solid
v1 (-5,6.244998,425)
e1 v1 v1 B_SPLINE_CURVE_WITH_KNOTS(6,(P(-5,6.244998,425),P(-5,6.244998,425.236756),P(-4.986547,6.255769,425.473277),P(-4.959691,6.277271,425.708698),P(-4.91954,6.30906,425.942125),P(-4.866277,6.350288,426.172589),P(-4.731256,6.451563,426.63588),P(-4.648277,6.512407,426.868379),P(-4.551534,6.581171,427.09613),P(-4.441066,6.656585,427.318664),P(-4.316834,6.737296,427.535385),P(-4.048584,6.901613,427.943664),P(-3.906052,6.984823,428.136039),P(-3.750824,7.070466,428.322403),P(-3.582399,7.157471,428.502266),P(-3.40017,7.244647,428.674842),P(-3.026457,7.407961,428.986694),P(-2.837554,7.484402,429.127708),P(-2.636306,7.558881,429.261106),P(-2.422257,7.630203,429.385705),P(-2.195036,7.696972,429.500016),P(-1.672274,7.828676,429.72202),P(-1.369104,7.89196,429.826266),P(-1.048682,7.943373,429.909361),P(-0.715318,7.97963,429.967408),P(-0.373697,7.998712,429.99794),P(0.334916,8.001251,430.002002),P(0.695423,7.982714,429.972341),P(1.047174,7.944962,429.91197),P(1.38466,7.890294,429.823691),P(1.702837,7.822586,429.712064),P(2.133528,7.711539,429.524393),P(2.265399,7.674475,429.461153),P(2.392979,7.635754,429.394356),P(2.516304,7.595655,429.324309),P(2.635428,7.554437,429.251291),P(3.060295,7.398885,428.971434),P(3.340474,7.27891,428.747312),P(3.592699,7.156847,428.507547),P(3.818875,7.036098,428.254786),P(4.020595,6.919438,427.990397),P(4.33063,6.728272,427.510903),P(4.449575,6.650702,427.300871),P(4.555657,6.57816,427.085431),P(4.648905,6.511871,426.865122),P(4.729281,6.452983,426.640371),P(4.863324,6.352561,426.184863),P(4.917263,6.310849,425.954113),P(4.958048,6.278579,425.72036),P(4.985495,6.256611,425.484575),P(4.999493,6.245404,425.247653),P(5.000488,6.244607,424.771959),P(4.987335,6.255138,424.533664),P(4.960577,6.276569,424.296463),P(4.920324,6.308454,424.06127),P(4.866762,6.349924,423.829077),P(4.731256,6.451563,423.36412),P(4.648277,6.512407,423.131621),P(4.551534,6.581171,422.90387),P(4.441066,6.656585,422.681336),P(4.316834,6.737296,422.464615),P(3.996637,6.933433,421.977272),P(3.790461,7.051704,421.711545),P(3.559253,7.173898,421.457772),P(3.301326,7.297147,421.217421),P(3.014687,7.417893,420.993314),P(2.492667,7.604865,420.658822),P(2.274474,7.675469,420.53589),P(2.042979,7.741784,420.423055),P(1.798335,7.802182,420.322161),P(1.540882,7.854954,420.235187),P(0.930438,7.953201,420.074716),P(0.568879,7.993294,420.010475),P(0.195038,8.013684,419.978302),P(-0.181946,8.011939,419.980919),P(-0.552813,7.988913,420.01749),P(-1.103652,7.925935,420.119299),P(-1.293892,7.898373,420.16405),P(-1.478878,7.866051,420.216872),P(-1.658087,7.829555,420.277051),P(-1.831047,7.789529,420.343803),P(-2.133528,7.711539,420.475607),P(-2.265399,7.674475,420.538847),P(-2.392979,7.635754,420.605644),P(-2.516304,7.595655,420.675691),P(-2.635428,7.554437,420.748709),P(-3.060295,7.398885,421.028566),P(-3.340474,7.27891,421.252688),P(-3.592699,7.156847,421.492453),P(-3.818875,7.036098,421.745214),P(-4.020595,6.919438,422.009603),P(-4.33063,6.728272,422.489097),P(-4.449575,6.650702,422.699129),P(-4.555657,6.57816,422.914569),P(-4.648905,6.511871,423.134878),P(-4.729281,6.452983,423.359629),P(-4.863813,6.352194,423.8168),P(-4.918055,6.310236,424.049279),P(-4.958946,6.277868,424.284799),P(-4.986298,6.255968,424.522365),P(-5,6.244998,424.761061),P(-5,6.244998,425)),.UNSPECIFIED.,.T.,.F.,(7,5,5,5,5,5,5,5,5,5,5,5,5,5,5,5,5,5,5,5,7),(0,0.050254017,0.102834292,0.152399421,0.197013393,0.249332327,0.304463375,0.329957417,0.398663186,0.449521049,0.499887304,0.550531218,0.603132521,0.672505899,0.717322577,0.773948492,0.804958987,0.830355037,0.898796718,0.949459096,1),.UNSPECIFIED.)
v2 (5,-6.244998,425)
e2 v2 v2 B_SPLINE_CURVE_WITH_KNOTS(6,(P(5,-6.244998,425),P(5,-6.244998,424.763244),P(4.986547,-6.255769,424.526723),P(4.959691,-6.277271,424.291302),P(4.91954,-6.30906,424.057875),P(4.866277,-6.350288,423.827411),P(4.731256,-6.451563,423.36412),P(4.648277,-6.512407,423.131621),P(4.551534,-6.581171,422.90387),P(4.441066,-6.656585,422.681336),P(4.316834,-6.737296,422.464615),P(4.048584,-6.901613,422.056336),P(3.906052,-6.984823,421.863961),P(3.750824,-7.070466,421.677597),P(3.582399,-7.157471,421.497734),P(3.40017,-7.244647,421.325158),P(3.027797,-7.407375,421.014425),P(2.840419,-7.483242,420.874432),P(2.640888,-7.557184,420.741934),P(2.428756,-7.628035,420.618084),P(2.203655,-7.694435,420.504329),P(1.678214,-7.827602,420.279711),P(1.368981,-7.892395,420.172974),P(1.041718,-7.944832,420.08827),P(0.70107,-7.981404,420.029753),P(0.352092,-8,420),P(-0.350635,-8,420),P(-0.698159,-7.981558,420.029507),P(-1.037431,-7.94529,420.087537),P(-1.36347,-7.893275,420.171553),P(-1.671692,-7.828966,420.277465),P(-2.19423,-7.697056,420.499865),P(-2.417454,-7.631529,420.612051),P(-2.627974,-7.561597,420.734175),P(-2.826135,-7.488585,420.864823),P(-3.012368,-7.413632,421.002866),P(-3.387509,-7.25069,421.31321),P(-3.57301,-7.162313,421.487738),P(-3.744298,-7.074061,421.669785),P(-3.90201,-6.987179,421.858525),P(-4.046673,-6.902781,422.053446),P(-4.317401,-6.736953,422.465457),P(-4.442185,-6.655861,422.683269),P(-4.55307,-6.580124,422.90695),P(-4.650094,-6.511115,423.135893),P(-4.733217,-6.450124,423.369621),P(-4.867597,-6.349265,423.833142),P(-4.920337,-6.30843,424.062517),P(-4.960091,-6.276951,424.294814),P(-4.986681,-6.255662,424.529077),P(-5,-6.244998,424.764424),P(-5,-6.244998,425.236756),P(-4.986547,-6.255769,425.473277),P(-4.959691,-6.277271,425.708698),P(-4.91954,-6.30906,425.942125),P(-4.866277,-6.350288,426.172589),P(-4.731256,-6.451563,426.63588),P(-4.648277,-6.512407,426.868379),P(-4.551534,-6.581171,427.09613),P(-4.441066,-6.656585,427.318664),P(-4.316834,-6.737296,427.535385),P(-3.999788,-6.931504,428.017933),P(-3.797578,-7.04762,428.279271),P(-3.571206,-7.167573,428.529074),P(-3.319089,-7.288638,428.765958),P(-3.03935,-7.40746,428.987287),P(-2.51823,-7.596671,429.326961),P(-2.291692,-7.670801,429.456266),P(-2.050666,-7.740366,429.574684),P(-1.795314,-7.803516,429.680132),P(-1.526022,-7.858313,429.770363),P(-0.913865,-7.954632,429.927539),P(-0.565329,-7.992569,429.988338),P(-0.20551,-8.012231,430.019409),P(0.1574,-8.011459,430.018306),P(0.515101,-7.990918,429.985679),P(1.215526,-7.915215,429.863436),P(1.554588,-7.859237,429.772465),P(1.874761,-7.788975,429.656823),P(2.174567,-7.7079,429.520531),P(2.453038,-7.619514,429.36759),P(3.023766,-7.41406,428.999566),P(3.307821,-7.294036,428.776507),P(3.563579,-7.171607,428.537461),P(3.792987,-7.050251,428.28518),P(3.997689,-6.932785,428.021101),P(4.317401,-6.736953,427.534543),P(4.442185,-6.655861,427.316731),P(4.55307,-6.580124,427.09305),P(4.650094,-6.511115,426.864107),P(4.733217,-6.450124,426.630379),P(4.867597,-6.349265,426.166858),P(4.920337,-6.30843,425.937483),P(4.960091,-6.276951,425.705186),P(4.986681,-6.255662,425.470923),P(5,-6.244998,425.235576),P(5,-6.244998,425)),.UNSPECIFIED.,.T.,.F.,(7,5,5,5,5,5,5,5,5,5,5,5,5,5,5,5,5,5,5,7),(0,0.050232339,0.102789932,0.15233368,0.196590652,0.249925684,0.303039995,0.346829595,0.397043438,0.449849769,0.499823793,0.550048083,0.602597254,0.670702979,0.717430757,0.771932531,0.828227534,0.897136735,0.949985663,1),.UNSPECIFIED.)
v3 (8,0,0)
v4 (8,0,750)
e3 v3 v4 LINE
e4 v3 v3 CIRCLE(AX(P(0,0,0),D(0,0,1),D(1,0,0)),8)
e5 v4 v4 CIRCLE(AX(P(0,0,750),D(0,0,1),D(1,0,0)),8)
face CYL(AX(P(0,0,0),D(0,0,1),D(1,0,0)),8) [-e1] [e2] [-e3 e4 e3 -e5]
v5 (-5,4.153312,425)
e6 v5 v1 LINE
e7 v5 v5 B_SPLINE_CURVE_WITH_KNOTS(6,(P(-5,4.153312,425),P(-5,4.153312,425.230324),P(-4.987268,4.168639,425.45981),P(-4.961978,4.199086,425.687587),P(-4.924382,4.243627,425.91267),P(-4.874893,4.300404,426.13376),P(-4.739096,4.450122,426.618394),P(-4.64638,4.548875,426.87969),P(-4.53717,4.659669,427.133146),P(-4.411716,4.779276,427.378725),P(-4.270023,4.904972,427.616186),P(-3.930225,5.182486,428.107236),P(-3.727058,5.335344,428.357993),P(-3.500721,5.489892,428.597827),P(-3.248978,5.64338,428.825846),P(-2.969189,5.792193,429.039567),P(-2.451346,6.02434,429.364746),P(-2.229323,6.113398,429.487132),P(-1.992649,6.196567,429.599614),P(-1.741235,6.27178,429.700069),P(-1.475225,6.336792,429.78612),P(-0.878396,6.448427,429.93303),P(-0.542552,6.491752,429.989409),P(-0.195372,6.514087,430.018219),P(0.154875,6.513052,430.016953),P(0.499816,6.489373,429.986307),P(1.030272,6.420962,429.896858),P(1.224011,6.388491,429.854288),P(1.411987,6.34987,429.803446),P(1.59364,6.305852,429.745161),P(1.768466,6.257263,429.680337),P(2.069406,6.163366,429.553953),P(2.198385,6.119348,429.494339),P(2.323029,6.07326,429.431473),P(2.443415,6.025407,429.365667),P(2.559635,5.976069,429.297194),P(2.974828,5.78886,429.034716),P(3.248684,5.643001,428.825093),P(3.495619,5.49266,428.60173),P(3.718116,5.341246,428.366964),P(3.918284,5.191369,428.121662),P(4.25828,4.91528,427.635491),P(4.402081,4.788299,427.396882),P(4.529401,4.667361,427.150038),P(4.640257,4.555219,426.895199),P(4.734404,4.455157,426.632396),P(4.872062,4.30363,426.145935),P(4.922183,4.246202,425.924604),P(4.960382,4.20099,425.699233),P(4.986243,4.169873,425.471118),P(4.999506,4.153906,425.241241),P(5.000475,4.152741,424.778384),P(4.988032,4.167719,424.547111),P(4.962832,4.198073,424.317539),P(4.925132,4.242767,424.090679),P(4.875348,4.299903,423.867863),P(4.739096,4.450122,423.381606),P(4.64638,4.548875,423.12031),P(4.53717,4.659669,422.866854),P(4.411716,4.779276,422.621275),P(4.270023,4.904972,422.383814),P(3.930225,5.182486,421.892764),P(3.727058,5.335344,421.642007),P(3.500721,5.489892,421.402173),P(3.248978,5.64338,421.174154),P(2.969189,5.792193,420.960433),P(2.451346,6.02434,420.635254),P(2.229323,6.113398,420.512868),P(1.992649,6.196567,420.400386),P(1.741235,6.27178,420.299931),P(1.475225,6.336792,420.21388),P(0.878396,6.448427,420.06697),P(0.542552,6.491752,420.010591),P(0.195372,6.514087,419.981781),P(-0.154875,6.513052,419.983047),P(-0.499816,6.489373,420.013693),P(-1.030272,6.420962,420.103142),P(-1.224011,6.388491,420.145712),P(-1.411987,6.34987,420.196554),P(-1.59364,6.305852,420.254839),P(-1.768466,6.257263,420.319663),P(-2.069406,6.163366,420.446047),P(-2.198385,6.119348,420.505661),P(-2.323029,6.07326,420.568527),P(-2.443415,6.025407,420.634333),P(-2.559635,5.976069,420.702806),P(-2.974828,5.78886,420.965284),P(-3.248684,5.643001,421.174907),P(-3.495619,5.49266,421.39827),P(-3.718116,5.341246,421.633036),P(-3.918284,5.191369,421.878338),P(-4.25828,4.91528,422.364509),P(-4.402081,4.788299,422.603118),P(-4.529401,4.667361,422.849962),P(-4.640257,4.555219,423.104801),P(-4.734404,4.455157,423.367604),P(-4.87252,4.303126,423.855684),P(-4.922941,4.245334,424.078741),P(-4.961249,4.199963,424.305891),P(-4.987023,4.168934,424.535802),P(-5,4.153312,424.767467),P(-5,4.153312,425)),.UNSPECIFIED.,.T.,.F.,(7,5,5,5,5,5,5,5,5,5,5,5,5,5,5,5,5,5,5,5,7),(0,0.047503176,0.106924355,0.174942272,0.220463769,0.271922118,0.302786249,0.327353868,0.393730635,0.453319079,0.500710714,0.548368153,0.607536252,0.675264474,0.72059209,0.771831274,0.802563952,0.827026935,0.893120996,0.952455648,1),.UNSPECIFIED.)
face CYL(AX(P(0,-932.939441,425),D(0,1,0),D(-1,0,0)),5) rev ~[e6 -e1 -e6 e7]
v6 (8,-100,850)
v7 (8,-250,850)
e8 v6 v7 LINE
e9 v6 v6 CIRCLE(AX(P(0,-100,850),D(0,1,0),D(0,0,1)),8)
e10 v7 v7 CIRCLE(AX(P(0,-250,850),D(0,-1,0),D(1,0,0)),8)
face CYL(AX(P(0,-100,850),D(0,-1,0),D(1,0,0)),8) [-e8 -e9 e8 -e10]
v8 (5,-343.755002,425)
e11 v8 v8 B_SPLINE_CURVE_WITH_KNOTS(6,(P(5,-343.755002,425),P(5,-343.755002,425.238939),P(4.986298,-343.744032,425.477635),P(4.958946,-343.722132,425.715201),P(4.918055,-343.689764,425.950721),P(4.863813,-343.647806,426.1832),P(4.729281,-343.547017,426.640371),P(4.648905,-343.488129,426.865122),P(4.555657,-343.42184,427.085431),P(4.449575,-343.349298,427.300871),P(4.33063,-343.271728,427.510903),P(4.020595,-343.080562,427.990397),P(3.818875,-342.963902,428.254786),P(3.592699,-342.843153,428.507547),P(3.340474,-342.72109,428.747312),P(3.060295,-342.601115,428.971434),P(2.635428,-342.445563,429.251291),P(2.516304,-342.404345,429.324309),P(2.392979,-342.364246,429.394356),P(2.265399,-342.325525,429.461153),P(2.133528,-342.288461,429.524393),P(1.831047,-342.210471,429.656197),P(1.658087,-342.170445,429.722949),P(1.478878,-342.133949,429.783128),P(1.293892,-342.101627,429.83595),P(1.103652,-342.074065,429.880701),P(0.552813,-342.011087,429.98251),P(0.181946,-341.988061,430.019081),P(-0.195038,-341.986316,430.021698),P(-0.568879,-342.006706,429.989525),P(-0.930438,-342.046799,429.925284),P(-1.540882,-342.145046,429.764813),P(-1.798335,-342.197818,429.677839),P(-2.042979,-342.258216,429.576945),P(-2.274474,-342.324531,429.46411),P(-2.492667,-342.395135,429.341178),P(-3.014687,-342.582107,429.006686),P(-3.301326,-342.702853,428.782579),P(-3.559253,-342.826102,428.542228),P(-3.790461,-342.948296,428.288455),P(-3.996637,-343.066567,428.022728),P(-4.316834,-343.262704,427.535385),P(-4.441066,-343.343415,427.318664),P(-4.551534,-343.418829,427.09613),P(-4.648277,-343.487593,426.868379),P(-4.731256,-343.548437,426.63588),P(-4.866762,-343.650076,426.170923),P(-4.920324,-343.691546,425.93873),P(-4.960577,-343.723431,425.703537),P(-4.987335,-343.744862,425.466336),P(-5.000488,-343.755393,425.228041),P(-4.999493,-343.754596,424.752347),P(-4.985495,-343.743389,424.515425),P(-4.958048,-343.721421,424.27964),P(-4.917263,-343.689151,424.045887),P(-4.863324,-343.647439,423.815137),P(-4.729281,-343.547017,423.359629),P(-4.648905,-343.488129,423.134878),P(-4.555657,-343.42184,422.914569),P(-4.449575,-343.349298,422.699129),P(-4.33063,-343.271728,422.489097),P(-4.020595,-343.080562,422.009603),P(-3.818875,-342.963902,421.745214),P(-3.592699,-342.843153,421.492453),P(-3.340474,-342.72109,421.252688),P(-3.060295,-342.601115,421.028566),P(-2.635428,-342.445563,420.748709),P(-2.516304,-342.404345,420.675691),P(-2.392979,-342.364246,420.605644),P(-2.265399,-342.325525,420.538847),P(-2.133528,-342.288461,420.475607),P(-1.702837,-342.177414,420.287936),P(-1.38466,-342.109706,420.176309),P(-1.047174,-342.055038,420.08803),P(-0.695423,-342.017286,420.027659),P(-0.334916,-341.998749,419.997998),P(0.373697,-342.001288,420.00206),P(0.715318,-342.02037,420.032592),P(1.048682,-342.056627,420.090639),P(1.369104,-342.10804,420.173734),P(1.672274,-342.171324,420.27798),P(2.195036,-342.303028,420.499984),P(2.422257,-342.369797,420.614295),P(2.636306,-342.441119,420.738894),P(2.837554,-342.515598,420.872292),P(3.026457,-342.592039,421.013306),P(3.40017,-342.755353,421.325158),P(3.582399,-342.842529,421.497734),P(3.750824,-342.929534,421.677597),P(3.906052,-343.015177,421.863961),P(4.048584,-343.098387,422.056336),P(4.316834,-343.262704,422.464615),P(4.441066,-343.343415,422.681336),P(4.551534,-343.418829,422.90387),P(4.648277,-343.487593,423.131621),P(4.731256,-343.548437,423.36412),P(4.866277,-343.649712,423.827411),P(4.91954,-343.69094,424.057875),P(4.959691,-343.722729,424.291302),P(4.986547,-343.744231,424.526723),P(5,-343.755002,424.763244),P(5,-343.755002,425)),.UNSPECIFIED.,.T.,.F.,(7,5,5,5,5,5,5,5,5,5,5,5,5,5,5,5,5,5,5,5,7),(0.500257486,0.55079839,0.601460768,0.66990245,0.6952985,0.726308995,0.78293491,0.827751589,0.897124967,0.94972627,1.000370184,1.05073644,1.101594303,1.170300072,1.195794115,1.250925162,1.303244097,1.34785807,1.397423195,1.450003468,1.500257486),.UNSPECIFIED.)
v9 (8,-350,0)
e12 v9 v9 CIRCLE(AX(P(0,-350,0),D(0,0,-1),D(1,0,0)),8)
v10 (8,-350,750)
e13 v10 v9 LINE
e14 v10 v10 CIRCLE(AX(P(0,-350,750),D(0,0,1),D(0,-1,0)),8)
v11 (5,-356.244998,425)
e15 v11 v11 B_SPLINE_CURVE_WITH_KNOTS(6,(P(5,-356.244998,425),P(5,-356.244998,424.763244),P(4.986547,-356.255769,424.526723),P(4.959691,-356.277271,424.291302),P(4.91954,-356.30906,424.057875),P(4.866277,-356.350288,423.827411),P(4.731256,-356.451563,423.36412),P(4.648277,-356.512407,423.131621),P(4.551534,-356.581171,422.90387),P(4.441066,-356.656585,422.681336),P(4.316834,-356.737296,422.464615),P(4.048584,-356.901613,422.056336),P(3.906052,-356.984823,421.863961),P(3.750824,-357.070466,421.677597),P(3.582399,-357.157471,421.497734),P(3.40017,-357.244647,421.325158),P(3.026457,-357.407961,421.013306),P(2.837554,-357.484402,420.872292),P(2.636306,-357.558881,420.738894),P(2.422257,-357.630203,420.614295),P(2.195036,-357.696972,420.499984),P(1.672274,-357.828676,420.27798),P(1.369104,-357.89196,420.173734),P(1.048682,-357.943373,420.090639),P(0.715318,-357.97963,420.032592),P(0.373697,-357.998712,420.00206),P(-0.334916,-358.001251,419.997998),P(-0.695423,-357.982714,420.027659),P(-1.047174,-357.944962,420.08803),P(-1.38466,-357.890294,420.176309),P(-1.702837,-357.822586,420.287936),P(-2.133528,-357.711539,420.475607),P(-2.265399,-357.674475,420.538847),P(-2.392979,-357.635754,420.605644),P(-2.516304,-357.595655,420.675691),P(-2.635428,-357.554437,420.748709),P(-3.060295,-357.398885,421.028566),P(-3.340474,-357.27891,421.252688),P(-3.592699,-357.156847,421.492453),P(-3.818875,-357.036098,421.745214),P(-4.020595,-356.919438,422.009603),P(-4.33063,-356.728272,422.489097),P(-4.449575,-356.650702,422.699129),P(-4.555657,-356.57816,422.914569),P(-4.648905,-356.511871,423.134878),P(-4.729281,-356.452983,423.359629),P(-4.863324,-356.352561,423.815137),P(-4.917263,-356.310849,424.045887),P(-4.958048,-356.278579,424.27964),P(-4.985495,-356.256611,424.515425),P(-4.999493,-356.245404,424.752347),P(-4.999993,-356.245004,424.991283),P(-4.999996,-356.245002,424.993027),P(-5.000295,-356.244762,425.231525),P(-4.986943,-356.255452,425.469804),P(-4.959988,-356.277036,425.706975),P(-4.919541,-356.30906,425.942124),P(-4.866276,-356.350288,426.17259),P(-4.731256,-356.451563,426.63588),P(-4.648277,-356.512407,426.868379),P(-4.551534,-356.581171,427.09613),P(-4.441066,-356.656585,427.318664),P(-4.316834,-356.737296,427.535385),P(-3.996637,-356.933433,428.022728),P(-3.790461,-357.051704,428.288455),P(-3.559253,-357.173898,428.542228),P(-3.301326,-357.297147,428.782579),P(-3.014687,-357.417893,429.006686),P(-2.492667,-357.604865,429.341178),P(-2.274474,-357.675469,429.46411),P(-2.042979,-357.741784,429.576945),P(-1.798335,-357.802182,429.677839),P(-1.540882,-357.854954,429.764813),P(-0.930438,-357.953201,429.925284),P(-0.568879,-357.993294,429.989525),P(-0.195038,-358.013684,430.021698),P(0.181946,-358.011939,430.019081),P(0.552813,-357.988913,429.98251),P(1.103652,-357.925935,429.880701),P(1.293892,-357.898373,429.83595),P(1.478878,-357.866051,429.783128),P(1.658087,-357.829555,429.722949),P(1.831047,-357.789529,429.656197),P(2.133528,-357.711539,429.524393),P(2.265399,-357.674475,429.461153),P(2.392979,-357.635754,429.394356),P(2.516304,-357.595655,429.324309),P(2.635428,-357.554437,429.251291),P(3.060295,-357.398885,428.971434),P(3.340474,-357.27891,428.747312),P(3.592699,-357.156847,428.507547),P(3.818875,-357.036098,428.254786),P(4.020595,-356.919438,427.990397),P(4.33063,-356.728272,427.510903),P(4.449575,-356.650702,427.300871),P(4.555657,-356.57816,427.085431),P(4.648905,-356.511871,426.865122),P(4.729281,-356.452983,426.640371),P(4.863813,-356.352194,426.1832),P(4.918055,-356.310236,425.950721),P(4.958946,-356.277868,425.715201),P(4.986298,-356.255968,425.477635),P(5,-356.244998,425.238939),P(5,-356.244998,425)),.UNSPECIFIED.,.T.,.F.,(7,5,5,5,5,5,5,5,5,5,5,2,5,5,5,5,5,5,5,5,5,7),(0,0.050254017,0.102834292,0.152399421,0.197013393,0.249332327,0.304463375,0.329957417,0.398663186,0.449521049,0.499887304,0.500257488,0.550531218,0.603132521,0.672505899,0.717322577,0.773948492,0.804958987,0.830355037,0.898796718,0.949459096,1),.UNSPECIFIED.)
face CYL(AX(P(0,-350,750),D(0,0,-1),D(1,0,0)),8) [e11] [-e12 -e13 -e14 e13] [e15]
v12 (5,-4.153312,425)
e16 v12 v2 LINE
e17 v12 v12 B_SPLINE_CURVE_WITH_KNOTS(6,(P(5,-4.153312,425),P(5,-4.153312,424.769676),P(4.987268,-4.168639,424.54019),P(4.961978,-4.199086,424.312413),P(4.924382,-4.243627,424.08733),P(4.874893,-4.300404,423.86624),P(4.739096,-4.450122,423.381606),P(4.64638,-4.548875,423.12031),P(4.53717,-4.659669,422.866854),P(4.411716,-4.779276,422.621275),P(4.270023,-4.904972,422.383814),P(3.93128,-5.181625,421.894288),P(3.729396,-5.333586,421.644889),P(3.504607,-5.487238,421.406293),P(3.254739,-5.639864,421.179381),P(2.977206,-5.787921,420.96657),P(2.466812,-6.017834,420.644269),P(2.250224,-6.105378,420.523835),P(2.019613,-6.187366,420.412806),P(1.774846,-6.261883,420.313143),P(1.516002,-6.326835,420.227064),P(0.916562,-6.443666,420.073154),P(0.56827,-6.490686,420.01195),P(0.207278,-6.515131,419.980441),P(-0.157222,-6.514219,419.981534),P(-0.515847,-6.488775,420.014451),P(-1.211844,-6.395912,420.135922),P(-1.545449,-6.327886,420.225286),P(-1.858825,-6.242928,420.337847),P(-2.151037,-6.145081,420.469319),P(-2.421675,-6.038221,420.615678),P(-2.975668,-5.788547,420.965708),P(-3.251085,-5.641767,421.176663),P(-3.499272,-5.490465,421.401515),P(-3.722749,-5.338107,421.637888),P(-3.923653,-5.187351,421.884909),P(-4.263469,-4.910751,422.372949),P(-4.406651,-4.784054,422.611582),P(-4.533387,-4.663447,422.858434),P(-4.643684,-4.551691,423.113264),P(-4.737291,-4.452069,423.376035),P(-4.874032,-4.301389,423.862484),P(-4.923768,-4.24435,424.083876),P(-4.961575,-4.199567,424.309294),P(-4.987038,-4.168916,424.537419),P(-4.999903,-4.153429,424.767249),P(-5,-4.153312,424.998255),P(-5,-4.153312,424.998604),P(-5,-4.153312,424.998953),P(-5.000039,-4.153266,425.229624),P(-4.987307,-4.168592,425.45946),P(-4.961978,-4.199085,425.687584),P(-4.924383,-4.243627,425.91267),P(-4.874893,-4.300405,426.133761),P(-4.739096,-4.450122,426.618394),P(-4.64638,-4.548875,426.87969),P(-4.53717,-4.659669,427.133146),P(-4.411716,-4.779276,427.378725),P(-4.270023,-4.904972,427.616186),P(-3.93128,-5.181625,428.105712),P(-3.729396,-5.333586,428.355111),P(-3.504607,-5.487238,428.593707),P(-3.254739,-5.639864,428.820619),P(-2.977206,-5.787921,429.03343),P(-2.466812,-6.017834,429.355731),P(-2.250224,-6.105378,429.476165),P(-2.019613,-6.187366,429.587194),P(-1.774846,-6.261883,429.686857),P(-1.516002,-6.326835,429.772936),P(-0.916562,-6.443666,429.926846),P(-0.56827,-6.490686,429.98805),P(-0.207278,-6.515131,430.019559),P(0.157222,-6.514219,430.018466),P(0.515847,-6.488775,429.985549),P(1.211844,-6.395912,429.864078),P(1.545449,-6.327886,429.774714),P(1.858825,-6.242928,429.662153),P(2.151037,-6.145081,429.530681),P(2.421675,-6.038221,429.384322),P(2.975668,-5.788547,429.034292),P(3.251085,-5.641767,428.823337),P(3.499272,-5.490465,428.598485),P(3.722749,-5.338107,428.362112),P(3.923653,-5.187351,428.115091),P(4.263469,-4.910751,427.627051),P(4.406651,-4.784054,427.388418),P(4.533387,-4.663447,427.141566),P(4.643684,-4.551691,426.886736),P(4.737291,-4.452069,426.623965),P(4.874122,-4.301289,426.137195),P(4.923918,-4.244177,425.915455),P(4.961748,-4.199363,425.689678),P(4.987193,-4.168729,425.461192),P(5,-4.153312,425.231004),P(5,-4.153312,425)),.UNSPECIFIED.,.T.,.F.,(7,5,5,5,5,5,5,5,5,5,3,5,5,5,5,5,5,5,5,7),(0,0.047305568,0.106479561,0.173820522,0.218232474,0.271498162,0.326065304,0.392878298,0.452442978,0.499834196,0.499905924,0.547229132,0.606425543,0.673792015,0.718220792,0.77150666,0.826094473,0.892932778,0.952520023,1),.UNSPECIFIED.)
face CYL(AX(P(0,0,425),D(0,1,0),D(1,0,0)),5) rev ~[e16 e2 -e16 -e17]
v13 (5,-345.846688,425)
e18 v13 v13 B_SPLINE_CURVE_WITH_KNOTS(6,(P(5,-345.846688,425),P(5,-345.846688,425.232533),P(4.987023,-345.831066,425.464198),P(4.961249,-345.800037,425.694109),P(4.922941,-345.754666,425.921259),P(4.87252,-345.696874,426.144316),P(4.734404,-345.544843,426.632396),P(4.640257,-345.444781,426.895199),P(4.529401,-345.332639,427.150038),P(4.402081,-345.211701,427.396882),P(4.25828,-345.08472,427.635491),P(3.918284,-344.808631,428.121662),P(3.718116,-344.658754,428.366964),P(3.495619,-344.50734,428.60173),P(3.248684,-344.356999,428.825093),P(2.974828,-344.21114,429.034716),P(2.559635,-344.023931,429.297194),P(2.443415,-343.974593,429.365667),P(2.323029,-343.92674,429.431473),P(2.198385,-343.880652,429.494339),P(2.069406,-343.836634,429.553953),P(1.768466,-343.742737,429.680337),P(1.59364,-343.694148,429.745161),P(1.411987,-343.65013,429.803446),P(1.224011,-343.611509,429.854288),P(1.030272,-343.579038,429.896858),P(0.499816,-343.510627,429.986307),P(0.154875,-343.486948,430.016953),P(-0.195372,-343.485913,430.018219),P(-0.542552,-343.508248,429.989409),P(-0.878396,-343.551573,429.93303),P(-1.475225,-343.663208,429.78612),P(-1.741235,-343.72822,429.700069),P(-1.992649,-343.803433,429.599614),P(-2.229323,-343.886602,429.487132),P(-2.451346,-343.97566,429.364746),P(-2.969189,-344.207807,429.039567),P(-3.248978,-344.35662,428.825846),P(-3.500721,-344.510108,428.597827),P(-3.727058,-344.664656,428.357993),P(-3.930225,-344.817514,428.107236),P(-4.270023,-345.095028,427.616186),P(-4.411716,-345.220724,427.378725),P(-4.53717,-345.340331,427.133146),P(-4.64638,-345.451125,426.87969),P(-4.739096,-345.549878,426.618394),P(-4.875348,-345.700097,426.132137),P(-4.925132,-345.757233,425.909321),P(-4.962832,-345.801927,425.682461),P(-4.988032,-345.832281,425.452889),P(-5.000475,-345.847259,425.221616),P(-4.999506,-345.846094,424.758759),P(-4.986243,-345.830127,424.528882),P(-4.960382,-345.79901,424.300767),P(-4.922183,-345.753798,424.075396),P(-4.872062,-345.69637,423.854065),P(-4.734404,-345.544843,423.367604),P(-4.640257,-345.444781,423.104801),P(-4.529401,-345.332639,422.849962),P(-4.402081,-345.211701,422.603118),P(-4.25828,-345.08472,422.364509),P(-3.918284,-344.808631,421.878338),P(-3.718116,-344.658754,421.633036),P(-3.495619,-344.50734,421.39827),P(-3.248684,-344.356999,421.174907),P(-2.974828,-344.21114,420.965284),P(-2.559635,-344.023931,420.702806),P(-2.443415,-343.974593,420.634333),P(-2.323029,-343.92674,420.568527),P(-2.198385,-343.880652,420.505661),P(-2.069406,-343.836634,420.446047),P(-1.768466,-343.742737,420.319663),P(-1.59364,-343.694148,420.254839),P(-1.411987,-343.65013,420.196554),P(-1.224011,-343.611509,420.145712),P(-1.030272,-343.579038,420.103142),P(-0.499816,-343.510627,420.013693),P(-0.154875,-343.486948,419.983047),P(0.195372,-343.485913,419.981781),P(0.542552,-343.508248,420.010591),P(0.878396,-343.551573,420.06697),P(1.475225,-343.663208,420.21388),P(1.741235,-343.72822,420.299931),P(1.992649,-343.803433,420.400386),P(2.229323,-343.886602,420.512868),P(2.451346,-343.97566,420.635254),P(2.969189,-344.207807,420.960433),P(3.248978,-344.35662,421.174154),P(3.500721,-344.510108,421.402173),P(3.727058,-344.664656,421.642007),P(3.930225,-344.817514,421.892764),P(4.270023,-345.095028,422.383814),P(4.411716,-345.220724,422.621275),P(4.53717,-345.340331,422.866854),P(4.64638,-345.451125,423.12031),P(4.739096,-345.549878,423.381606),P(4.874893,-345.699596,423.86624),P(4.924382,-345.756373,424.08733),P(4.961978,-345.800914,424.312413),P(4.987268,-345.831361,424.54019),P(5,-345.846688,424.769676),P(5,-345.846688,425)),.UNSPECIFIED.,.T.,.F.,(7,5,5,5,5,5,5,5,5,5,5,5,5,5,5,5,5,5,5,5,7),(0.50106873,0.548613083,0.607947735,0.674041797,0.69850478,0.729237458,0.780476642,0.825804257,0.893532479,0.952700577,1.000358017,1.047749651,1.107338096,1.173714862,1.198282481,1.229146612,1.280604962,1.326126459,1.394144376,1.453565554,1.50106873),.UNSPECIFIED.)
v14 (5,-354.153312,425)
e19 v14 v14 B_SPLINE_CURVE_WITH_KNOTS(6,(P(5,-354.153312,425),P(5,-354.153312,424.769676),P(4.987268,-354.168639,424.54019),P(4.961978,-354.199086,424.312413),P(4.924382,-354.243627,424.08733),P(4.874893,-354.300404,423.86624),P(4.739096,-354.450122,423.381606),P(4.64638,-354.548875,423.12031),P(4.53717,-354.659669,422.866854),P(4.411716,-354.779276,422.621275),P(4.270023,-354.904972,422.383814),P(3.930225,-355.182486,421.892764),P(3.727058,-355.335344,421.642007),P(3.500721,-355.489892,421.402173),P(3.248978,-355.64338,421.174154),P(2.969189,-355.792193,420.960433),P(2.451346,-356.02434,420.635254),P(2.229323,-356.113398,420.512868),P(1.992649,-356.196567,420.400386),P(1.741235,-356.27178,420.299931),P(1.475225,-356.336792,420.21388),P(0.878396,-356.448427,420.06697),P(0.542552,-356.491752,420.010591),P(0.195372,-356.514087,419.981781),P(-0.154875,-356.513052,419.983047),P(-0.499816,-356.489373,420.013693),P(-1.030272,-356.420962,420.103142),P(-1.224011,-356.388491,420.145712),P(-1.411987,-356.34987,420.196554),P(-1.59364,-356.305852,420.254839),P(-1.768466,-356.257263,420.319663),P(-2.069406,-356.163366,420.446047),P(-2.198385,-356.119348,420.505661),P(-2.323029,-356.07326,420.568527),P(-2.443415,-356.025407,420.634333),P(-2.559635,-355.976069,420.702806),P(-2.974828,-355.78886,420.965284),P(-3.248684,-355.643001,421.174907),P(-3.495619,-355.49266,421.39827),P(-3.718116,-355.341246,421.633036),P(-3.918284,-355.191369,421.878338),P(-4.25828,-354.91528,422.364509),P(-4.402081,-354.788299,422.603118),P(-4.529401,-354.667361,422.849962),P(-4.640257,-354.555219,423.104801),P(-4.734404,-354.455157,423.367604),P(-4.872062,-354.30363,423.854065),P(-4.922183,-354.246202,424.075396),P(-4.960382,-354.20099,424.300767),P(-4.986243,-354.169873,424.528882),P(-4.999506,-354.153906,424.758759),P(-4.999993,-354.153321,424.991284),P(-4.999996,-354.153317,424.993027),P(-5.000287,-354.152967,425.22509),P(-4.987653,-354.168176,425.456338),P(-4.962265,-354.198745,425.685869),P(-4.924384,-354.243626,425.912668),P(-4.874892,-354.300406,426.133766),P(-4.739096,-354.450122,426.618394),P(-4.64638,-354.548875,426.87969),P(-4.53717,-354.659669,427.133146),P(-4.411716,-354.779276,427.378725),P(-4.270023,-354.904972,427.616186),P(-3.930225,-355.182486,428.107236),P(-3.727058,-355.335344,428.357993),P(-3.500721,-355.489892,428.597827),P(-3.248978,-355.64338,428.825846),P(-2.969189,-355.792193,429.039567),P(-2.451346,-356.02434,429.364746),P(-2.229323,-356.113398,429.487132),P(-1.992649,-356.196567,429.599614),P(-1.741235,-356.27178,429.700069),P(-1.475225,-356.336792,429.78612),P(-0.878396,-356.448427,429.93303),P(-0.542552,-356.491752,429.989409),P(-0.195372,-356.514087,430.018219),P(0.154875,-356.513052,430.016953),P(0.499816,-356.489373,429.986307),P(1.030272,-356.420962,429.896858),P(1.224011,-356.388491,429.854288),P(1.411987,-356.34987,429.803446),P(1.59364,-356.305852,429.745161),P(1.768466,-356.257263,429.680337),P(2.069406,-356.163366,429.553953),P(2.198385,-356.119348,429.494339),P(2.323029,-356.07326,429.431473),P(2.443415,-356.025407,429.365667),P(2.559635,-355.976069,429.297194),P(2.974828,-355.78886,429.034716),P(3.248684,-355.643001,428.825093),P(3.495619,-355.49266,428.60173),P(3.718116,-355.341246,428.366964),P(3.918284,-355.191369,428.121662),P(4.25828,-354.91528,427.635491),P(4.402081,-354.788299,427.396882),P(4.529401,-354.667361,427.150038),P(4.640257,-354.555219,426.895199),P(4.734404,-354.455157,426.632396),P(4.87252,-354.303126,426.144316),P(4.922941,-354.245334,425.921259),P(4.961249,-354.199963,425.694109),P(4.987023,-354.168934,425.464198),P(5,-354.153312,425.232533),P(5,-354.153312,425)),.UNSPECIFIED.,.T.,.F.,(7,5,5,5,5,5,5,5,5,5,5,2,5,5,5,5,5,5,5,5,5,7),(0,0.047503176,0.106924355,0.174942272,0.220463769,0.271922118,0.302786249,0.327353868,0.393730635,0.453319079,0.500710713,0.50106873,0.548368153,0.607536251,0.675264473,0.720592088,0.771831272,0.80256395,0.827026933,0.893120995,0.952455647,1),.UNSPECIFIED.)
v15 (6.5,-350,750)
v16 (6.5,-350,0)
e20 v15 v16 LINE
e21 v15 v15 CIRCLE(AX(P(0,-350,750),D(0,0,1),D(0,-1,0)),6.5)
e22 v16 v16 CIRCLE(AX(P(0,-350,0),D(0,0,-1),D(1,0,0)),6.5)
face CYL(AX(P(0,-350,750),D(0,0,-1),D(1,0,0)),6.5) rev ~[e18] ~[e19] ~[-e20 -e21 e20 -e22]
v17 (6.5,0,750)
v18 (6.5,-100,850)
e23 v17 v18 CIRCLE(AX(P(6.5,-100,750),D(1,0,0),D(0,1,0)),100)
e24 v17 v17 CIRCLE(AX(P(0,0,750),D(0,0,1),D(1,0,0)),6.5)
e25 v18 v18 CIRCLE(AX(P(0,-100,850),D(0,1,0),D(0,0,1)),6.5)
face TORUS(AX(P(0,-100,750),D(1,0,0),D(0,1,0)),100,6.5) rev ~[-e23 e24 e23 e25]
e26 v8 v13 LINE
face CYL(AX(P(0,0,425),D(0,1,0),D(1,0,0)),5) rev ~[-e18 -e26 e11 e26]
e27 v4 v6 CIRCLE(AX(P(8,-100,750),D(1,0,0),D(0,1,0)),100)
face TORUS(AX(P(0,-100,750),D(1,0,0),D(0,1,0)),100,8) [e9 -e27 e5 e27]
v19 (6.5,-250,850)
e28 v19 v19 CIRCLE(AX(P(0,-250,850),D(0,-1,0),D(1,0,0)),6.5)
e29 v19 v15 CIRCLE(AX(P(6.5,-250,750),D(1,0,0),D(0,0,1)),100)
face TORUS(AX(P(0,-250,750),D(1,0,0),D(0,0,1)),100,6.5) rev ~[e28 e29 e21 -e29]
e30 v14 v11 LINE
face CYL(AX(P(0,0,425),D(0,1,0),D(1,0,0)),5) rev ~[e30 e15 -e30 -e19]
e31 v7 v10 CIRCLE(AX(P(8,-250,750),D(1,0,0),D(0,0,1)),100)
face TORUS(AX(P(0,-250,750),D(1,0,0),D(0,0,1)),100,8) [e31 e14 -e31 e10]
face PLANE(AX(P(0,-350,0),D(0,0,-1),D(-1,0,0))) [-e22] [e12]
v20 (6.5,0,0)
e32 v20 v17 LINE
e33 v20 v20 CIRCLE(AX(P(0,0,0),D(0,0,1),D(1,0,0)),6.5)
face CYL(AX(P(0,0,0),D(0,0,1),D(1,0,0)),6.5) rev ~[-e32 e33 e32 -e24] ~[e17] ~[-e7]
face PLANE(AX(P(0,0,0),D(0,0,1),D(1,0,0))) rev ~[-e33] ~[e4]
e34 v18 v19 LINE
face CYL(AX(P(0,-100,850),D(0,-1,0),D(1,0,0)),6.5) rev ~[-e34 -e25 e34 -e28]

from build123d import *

# Parameters (mm, degrees)
F1_R     = 8
F3_T     = -1.5
F5_D     = 10
F5_DEPTH = 358.0010001
F6_D     = 10


with BuildPart() as f2:
    # F2: sweep along a path in F0
    with BuildLine(Plane.YZ) as f2_path:
        Line((0, 0), (0, 750))
        ThreePointArc((0, 750), (-29.2893218813, 820.7106781187), (-100, 850))
        Line((-100, 850), (-250, 850))
        ThreePointArc((-250, 850), (-320.7106781187, 820.7106781187), (-350, 750))
        Line((-350, 750), (-350, 0))
    # F1 (on Top) → F2 (sweep)
    with BuildSketch(Plane.XY):
        Circle(F1_R)
    sweep(path=f2_path.line)

    # F3
    f3_openings = [f2.faces().sort_by_distance(p)[0] for p in [
        (0, -350, 0),
        (0, 0, 0),
    ]]
    offset(amount=F3_T, openings=f3_openings)

    # F5 (through all, one way)
    with BuildSketch(Plane(origin=(0, 0, 0), x_dir=(1, 0, 0), z_dir=(0, 1, 0))):
        with Locations((0, -425)):
            Circle(F5_D / 2)
    extrude(amount=-F5_DEPTH, mode=Mode.SUBTRACT)

    # F6 (through all)
    with Locations(Plane.XZ):
        with Locations((0, 425)):
            Hole(F6_D / 2)


solid = f2.part
